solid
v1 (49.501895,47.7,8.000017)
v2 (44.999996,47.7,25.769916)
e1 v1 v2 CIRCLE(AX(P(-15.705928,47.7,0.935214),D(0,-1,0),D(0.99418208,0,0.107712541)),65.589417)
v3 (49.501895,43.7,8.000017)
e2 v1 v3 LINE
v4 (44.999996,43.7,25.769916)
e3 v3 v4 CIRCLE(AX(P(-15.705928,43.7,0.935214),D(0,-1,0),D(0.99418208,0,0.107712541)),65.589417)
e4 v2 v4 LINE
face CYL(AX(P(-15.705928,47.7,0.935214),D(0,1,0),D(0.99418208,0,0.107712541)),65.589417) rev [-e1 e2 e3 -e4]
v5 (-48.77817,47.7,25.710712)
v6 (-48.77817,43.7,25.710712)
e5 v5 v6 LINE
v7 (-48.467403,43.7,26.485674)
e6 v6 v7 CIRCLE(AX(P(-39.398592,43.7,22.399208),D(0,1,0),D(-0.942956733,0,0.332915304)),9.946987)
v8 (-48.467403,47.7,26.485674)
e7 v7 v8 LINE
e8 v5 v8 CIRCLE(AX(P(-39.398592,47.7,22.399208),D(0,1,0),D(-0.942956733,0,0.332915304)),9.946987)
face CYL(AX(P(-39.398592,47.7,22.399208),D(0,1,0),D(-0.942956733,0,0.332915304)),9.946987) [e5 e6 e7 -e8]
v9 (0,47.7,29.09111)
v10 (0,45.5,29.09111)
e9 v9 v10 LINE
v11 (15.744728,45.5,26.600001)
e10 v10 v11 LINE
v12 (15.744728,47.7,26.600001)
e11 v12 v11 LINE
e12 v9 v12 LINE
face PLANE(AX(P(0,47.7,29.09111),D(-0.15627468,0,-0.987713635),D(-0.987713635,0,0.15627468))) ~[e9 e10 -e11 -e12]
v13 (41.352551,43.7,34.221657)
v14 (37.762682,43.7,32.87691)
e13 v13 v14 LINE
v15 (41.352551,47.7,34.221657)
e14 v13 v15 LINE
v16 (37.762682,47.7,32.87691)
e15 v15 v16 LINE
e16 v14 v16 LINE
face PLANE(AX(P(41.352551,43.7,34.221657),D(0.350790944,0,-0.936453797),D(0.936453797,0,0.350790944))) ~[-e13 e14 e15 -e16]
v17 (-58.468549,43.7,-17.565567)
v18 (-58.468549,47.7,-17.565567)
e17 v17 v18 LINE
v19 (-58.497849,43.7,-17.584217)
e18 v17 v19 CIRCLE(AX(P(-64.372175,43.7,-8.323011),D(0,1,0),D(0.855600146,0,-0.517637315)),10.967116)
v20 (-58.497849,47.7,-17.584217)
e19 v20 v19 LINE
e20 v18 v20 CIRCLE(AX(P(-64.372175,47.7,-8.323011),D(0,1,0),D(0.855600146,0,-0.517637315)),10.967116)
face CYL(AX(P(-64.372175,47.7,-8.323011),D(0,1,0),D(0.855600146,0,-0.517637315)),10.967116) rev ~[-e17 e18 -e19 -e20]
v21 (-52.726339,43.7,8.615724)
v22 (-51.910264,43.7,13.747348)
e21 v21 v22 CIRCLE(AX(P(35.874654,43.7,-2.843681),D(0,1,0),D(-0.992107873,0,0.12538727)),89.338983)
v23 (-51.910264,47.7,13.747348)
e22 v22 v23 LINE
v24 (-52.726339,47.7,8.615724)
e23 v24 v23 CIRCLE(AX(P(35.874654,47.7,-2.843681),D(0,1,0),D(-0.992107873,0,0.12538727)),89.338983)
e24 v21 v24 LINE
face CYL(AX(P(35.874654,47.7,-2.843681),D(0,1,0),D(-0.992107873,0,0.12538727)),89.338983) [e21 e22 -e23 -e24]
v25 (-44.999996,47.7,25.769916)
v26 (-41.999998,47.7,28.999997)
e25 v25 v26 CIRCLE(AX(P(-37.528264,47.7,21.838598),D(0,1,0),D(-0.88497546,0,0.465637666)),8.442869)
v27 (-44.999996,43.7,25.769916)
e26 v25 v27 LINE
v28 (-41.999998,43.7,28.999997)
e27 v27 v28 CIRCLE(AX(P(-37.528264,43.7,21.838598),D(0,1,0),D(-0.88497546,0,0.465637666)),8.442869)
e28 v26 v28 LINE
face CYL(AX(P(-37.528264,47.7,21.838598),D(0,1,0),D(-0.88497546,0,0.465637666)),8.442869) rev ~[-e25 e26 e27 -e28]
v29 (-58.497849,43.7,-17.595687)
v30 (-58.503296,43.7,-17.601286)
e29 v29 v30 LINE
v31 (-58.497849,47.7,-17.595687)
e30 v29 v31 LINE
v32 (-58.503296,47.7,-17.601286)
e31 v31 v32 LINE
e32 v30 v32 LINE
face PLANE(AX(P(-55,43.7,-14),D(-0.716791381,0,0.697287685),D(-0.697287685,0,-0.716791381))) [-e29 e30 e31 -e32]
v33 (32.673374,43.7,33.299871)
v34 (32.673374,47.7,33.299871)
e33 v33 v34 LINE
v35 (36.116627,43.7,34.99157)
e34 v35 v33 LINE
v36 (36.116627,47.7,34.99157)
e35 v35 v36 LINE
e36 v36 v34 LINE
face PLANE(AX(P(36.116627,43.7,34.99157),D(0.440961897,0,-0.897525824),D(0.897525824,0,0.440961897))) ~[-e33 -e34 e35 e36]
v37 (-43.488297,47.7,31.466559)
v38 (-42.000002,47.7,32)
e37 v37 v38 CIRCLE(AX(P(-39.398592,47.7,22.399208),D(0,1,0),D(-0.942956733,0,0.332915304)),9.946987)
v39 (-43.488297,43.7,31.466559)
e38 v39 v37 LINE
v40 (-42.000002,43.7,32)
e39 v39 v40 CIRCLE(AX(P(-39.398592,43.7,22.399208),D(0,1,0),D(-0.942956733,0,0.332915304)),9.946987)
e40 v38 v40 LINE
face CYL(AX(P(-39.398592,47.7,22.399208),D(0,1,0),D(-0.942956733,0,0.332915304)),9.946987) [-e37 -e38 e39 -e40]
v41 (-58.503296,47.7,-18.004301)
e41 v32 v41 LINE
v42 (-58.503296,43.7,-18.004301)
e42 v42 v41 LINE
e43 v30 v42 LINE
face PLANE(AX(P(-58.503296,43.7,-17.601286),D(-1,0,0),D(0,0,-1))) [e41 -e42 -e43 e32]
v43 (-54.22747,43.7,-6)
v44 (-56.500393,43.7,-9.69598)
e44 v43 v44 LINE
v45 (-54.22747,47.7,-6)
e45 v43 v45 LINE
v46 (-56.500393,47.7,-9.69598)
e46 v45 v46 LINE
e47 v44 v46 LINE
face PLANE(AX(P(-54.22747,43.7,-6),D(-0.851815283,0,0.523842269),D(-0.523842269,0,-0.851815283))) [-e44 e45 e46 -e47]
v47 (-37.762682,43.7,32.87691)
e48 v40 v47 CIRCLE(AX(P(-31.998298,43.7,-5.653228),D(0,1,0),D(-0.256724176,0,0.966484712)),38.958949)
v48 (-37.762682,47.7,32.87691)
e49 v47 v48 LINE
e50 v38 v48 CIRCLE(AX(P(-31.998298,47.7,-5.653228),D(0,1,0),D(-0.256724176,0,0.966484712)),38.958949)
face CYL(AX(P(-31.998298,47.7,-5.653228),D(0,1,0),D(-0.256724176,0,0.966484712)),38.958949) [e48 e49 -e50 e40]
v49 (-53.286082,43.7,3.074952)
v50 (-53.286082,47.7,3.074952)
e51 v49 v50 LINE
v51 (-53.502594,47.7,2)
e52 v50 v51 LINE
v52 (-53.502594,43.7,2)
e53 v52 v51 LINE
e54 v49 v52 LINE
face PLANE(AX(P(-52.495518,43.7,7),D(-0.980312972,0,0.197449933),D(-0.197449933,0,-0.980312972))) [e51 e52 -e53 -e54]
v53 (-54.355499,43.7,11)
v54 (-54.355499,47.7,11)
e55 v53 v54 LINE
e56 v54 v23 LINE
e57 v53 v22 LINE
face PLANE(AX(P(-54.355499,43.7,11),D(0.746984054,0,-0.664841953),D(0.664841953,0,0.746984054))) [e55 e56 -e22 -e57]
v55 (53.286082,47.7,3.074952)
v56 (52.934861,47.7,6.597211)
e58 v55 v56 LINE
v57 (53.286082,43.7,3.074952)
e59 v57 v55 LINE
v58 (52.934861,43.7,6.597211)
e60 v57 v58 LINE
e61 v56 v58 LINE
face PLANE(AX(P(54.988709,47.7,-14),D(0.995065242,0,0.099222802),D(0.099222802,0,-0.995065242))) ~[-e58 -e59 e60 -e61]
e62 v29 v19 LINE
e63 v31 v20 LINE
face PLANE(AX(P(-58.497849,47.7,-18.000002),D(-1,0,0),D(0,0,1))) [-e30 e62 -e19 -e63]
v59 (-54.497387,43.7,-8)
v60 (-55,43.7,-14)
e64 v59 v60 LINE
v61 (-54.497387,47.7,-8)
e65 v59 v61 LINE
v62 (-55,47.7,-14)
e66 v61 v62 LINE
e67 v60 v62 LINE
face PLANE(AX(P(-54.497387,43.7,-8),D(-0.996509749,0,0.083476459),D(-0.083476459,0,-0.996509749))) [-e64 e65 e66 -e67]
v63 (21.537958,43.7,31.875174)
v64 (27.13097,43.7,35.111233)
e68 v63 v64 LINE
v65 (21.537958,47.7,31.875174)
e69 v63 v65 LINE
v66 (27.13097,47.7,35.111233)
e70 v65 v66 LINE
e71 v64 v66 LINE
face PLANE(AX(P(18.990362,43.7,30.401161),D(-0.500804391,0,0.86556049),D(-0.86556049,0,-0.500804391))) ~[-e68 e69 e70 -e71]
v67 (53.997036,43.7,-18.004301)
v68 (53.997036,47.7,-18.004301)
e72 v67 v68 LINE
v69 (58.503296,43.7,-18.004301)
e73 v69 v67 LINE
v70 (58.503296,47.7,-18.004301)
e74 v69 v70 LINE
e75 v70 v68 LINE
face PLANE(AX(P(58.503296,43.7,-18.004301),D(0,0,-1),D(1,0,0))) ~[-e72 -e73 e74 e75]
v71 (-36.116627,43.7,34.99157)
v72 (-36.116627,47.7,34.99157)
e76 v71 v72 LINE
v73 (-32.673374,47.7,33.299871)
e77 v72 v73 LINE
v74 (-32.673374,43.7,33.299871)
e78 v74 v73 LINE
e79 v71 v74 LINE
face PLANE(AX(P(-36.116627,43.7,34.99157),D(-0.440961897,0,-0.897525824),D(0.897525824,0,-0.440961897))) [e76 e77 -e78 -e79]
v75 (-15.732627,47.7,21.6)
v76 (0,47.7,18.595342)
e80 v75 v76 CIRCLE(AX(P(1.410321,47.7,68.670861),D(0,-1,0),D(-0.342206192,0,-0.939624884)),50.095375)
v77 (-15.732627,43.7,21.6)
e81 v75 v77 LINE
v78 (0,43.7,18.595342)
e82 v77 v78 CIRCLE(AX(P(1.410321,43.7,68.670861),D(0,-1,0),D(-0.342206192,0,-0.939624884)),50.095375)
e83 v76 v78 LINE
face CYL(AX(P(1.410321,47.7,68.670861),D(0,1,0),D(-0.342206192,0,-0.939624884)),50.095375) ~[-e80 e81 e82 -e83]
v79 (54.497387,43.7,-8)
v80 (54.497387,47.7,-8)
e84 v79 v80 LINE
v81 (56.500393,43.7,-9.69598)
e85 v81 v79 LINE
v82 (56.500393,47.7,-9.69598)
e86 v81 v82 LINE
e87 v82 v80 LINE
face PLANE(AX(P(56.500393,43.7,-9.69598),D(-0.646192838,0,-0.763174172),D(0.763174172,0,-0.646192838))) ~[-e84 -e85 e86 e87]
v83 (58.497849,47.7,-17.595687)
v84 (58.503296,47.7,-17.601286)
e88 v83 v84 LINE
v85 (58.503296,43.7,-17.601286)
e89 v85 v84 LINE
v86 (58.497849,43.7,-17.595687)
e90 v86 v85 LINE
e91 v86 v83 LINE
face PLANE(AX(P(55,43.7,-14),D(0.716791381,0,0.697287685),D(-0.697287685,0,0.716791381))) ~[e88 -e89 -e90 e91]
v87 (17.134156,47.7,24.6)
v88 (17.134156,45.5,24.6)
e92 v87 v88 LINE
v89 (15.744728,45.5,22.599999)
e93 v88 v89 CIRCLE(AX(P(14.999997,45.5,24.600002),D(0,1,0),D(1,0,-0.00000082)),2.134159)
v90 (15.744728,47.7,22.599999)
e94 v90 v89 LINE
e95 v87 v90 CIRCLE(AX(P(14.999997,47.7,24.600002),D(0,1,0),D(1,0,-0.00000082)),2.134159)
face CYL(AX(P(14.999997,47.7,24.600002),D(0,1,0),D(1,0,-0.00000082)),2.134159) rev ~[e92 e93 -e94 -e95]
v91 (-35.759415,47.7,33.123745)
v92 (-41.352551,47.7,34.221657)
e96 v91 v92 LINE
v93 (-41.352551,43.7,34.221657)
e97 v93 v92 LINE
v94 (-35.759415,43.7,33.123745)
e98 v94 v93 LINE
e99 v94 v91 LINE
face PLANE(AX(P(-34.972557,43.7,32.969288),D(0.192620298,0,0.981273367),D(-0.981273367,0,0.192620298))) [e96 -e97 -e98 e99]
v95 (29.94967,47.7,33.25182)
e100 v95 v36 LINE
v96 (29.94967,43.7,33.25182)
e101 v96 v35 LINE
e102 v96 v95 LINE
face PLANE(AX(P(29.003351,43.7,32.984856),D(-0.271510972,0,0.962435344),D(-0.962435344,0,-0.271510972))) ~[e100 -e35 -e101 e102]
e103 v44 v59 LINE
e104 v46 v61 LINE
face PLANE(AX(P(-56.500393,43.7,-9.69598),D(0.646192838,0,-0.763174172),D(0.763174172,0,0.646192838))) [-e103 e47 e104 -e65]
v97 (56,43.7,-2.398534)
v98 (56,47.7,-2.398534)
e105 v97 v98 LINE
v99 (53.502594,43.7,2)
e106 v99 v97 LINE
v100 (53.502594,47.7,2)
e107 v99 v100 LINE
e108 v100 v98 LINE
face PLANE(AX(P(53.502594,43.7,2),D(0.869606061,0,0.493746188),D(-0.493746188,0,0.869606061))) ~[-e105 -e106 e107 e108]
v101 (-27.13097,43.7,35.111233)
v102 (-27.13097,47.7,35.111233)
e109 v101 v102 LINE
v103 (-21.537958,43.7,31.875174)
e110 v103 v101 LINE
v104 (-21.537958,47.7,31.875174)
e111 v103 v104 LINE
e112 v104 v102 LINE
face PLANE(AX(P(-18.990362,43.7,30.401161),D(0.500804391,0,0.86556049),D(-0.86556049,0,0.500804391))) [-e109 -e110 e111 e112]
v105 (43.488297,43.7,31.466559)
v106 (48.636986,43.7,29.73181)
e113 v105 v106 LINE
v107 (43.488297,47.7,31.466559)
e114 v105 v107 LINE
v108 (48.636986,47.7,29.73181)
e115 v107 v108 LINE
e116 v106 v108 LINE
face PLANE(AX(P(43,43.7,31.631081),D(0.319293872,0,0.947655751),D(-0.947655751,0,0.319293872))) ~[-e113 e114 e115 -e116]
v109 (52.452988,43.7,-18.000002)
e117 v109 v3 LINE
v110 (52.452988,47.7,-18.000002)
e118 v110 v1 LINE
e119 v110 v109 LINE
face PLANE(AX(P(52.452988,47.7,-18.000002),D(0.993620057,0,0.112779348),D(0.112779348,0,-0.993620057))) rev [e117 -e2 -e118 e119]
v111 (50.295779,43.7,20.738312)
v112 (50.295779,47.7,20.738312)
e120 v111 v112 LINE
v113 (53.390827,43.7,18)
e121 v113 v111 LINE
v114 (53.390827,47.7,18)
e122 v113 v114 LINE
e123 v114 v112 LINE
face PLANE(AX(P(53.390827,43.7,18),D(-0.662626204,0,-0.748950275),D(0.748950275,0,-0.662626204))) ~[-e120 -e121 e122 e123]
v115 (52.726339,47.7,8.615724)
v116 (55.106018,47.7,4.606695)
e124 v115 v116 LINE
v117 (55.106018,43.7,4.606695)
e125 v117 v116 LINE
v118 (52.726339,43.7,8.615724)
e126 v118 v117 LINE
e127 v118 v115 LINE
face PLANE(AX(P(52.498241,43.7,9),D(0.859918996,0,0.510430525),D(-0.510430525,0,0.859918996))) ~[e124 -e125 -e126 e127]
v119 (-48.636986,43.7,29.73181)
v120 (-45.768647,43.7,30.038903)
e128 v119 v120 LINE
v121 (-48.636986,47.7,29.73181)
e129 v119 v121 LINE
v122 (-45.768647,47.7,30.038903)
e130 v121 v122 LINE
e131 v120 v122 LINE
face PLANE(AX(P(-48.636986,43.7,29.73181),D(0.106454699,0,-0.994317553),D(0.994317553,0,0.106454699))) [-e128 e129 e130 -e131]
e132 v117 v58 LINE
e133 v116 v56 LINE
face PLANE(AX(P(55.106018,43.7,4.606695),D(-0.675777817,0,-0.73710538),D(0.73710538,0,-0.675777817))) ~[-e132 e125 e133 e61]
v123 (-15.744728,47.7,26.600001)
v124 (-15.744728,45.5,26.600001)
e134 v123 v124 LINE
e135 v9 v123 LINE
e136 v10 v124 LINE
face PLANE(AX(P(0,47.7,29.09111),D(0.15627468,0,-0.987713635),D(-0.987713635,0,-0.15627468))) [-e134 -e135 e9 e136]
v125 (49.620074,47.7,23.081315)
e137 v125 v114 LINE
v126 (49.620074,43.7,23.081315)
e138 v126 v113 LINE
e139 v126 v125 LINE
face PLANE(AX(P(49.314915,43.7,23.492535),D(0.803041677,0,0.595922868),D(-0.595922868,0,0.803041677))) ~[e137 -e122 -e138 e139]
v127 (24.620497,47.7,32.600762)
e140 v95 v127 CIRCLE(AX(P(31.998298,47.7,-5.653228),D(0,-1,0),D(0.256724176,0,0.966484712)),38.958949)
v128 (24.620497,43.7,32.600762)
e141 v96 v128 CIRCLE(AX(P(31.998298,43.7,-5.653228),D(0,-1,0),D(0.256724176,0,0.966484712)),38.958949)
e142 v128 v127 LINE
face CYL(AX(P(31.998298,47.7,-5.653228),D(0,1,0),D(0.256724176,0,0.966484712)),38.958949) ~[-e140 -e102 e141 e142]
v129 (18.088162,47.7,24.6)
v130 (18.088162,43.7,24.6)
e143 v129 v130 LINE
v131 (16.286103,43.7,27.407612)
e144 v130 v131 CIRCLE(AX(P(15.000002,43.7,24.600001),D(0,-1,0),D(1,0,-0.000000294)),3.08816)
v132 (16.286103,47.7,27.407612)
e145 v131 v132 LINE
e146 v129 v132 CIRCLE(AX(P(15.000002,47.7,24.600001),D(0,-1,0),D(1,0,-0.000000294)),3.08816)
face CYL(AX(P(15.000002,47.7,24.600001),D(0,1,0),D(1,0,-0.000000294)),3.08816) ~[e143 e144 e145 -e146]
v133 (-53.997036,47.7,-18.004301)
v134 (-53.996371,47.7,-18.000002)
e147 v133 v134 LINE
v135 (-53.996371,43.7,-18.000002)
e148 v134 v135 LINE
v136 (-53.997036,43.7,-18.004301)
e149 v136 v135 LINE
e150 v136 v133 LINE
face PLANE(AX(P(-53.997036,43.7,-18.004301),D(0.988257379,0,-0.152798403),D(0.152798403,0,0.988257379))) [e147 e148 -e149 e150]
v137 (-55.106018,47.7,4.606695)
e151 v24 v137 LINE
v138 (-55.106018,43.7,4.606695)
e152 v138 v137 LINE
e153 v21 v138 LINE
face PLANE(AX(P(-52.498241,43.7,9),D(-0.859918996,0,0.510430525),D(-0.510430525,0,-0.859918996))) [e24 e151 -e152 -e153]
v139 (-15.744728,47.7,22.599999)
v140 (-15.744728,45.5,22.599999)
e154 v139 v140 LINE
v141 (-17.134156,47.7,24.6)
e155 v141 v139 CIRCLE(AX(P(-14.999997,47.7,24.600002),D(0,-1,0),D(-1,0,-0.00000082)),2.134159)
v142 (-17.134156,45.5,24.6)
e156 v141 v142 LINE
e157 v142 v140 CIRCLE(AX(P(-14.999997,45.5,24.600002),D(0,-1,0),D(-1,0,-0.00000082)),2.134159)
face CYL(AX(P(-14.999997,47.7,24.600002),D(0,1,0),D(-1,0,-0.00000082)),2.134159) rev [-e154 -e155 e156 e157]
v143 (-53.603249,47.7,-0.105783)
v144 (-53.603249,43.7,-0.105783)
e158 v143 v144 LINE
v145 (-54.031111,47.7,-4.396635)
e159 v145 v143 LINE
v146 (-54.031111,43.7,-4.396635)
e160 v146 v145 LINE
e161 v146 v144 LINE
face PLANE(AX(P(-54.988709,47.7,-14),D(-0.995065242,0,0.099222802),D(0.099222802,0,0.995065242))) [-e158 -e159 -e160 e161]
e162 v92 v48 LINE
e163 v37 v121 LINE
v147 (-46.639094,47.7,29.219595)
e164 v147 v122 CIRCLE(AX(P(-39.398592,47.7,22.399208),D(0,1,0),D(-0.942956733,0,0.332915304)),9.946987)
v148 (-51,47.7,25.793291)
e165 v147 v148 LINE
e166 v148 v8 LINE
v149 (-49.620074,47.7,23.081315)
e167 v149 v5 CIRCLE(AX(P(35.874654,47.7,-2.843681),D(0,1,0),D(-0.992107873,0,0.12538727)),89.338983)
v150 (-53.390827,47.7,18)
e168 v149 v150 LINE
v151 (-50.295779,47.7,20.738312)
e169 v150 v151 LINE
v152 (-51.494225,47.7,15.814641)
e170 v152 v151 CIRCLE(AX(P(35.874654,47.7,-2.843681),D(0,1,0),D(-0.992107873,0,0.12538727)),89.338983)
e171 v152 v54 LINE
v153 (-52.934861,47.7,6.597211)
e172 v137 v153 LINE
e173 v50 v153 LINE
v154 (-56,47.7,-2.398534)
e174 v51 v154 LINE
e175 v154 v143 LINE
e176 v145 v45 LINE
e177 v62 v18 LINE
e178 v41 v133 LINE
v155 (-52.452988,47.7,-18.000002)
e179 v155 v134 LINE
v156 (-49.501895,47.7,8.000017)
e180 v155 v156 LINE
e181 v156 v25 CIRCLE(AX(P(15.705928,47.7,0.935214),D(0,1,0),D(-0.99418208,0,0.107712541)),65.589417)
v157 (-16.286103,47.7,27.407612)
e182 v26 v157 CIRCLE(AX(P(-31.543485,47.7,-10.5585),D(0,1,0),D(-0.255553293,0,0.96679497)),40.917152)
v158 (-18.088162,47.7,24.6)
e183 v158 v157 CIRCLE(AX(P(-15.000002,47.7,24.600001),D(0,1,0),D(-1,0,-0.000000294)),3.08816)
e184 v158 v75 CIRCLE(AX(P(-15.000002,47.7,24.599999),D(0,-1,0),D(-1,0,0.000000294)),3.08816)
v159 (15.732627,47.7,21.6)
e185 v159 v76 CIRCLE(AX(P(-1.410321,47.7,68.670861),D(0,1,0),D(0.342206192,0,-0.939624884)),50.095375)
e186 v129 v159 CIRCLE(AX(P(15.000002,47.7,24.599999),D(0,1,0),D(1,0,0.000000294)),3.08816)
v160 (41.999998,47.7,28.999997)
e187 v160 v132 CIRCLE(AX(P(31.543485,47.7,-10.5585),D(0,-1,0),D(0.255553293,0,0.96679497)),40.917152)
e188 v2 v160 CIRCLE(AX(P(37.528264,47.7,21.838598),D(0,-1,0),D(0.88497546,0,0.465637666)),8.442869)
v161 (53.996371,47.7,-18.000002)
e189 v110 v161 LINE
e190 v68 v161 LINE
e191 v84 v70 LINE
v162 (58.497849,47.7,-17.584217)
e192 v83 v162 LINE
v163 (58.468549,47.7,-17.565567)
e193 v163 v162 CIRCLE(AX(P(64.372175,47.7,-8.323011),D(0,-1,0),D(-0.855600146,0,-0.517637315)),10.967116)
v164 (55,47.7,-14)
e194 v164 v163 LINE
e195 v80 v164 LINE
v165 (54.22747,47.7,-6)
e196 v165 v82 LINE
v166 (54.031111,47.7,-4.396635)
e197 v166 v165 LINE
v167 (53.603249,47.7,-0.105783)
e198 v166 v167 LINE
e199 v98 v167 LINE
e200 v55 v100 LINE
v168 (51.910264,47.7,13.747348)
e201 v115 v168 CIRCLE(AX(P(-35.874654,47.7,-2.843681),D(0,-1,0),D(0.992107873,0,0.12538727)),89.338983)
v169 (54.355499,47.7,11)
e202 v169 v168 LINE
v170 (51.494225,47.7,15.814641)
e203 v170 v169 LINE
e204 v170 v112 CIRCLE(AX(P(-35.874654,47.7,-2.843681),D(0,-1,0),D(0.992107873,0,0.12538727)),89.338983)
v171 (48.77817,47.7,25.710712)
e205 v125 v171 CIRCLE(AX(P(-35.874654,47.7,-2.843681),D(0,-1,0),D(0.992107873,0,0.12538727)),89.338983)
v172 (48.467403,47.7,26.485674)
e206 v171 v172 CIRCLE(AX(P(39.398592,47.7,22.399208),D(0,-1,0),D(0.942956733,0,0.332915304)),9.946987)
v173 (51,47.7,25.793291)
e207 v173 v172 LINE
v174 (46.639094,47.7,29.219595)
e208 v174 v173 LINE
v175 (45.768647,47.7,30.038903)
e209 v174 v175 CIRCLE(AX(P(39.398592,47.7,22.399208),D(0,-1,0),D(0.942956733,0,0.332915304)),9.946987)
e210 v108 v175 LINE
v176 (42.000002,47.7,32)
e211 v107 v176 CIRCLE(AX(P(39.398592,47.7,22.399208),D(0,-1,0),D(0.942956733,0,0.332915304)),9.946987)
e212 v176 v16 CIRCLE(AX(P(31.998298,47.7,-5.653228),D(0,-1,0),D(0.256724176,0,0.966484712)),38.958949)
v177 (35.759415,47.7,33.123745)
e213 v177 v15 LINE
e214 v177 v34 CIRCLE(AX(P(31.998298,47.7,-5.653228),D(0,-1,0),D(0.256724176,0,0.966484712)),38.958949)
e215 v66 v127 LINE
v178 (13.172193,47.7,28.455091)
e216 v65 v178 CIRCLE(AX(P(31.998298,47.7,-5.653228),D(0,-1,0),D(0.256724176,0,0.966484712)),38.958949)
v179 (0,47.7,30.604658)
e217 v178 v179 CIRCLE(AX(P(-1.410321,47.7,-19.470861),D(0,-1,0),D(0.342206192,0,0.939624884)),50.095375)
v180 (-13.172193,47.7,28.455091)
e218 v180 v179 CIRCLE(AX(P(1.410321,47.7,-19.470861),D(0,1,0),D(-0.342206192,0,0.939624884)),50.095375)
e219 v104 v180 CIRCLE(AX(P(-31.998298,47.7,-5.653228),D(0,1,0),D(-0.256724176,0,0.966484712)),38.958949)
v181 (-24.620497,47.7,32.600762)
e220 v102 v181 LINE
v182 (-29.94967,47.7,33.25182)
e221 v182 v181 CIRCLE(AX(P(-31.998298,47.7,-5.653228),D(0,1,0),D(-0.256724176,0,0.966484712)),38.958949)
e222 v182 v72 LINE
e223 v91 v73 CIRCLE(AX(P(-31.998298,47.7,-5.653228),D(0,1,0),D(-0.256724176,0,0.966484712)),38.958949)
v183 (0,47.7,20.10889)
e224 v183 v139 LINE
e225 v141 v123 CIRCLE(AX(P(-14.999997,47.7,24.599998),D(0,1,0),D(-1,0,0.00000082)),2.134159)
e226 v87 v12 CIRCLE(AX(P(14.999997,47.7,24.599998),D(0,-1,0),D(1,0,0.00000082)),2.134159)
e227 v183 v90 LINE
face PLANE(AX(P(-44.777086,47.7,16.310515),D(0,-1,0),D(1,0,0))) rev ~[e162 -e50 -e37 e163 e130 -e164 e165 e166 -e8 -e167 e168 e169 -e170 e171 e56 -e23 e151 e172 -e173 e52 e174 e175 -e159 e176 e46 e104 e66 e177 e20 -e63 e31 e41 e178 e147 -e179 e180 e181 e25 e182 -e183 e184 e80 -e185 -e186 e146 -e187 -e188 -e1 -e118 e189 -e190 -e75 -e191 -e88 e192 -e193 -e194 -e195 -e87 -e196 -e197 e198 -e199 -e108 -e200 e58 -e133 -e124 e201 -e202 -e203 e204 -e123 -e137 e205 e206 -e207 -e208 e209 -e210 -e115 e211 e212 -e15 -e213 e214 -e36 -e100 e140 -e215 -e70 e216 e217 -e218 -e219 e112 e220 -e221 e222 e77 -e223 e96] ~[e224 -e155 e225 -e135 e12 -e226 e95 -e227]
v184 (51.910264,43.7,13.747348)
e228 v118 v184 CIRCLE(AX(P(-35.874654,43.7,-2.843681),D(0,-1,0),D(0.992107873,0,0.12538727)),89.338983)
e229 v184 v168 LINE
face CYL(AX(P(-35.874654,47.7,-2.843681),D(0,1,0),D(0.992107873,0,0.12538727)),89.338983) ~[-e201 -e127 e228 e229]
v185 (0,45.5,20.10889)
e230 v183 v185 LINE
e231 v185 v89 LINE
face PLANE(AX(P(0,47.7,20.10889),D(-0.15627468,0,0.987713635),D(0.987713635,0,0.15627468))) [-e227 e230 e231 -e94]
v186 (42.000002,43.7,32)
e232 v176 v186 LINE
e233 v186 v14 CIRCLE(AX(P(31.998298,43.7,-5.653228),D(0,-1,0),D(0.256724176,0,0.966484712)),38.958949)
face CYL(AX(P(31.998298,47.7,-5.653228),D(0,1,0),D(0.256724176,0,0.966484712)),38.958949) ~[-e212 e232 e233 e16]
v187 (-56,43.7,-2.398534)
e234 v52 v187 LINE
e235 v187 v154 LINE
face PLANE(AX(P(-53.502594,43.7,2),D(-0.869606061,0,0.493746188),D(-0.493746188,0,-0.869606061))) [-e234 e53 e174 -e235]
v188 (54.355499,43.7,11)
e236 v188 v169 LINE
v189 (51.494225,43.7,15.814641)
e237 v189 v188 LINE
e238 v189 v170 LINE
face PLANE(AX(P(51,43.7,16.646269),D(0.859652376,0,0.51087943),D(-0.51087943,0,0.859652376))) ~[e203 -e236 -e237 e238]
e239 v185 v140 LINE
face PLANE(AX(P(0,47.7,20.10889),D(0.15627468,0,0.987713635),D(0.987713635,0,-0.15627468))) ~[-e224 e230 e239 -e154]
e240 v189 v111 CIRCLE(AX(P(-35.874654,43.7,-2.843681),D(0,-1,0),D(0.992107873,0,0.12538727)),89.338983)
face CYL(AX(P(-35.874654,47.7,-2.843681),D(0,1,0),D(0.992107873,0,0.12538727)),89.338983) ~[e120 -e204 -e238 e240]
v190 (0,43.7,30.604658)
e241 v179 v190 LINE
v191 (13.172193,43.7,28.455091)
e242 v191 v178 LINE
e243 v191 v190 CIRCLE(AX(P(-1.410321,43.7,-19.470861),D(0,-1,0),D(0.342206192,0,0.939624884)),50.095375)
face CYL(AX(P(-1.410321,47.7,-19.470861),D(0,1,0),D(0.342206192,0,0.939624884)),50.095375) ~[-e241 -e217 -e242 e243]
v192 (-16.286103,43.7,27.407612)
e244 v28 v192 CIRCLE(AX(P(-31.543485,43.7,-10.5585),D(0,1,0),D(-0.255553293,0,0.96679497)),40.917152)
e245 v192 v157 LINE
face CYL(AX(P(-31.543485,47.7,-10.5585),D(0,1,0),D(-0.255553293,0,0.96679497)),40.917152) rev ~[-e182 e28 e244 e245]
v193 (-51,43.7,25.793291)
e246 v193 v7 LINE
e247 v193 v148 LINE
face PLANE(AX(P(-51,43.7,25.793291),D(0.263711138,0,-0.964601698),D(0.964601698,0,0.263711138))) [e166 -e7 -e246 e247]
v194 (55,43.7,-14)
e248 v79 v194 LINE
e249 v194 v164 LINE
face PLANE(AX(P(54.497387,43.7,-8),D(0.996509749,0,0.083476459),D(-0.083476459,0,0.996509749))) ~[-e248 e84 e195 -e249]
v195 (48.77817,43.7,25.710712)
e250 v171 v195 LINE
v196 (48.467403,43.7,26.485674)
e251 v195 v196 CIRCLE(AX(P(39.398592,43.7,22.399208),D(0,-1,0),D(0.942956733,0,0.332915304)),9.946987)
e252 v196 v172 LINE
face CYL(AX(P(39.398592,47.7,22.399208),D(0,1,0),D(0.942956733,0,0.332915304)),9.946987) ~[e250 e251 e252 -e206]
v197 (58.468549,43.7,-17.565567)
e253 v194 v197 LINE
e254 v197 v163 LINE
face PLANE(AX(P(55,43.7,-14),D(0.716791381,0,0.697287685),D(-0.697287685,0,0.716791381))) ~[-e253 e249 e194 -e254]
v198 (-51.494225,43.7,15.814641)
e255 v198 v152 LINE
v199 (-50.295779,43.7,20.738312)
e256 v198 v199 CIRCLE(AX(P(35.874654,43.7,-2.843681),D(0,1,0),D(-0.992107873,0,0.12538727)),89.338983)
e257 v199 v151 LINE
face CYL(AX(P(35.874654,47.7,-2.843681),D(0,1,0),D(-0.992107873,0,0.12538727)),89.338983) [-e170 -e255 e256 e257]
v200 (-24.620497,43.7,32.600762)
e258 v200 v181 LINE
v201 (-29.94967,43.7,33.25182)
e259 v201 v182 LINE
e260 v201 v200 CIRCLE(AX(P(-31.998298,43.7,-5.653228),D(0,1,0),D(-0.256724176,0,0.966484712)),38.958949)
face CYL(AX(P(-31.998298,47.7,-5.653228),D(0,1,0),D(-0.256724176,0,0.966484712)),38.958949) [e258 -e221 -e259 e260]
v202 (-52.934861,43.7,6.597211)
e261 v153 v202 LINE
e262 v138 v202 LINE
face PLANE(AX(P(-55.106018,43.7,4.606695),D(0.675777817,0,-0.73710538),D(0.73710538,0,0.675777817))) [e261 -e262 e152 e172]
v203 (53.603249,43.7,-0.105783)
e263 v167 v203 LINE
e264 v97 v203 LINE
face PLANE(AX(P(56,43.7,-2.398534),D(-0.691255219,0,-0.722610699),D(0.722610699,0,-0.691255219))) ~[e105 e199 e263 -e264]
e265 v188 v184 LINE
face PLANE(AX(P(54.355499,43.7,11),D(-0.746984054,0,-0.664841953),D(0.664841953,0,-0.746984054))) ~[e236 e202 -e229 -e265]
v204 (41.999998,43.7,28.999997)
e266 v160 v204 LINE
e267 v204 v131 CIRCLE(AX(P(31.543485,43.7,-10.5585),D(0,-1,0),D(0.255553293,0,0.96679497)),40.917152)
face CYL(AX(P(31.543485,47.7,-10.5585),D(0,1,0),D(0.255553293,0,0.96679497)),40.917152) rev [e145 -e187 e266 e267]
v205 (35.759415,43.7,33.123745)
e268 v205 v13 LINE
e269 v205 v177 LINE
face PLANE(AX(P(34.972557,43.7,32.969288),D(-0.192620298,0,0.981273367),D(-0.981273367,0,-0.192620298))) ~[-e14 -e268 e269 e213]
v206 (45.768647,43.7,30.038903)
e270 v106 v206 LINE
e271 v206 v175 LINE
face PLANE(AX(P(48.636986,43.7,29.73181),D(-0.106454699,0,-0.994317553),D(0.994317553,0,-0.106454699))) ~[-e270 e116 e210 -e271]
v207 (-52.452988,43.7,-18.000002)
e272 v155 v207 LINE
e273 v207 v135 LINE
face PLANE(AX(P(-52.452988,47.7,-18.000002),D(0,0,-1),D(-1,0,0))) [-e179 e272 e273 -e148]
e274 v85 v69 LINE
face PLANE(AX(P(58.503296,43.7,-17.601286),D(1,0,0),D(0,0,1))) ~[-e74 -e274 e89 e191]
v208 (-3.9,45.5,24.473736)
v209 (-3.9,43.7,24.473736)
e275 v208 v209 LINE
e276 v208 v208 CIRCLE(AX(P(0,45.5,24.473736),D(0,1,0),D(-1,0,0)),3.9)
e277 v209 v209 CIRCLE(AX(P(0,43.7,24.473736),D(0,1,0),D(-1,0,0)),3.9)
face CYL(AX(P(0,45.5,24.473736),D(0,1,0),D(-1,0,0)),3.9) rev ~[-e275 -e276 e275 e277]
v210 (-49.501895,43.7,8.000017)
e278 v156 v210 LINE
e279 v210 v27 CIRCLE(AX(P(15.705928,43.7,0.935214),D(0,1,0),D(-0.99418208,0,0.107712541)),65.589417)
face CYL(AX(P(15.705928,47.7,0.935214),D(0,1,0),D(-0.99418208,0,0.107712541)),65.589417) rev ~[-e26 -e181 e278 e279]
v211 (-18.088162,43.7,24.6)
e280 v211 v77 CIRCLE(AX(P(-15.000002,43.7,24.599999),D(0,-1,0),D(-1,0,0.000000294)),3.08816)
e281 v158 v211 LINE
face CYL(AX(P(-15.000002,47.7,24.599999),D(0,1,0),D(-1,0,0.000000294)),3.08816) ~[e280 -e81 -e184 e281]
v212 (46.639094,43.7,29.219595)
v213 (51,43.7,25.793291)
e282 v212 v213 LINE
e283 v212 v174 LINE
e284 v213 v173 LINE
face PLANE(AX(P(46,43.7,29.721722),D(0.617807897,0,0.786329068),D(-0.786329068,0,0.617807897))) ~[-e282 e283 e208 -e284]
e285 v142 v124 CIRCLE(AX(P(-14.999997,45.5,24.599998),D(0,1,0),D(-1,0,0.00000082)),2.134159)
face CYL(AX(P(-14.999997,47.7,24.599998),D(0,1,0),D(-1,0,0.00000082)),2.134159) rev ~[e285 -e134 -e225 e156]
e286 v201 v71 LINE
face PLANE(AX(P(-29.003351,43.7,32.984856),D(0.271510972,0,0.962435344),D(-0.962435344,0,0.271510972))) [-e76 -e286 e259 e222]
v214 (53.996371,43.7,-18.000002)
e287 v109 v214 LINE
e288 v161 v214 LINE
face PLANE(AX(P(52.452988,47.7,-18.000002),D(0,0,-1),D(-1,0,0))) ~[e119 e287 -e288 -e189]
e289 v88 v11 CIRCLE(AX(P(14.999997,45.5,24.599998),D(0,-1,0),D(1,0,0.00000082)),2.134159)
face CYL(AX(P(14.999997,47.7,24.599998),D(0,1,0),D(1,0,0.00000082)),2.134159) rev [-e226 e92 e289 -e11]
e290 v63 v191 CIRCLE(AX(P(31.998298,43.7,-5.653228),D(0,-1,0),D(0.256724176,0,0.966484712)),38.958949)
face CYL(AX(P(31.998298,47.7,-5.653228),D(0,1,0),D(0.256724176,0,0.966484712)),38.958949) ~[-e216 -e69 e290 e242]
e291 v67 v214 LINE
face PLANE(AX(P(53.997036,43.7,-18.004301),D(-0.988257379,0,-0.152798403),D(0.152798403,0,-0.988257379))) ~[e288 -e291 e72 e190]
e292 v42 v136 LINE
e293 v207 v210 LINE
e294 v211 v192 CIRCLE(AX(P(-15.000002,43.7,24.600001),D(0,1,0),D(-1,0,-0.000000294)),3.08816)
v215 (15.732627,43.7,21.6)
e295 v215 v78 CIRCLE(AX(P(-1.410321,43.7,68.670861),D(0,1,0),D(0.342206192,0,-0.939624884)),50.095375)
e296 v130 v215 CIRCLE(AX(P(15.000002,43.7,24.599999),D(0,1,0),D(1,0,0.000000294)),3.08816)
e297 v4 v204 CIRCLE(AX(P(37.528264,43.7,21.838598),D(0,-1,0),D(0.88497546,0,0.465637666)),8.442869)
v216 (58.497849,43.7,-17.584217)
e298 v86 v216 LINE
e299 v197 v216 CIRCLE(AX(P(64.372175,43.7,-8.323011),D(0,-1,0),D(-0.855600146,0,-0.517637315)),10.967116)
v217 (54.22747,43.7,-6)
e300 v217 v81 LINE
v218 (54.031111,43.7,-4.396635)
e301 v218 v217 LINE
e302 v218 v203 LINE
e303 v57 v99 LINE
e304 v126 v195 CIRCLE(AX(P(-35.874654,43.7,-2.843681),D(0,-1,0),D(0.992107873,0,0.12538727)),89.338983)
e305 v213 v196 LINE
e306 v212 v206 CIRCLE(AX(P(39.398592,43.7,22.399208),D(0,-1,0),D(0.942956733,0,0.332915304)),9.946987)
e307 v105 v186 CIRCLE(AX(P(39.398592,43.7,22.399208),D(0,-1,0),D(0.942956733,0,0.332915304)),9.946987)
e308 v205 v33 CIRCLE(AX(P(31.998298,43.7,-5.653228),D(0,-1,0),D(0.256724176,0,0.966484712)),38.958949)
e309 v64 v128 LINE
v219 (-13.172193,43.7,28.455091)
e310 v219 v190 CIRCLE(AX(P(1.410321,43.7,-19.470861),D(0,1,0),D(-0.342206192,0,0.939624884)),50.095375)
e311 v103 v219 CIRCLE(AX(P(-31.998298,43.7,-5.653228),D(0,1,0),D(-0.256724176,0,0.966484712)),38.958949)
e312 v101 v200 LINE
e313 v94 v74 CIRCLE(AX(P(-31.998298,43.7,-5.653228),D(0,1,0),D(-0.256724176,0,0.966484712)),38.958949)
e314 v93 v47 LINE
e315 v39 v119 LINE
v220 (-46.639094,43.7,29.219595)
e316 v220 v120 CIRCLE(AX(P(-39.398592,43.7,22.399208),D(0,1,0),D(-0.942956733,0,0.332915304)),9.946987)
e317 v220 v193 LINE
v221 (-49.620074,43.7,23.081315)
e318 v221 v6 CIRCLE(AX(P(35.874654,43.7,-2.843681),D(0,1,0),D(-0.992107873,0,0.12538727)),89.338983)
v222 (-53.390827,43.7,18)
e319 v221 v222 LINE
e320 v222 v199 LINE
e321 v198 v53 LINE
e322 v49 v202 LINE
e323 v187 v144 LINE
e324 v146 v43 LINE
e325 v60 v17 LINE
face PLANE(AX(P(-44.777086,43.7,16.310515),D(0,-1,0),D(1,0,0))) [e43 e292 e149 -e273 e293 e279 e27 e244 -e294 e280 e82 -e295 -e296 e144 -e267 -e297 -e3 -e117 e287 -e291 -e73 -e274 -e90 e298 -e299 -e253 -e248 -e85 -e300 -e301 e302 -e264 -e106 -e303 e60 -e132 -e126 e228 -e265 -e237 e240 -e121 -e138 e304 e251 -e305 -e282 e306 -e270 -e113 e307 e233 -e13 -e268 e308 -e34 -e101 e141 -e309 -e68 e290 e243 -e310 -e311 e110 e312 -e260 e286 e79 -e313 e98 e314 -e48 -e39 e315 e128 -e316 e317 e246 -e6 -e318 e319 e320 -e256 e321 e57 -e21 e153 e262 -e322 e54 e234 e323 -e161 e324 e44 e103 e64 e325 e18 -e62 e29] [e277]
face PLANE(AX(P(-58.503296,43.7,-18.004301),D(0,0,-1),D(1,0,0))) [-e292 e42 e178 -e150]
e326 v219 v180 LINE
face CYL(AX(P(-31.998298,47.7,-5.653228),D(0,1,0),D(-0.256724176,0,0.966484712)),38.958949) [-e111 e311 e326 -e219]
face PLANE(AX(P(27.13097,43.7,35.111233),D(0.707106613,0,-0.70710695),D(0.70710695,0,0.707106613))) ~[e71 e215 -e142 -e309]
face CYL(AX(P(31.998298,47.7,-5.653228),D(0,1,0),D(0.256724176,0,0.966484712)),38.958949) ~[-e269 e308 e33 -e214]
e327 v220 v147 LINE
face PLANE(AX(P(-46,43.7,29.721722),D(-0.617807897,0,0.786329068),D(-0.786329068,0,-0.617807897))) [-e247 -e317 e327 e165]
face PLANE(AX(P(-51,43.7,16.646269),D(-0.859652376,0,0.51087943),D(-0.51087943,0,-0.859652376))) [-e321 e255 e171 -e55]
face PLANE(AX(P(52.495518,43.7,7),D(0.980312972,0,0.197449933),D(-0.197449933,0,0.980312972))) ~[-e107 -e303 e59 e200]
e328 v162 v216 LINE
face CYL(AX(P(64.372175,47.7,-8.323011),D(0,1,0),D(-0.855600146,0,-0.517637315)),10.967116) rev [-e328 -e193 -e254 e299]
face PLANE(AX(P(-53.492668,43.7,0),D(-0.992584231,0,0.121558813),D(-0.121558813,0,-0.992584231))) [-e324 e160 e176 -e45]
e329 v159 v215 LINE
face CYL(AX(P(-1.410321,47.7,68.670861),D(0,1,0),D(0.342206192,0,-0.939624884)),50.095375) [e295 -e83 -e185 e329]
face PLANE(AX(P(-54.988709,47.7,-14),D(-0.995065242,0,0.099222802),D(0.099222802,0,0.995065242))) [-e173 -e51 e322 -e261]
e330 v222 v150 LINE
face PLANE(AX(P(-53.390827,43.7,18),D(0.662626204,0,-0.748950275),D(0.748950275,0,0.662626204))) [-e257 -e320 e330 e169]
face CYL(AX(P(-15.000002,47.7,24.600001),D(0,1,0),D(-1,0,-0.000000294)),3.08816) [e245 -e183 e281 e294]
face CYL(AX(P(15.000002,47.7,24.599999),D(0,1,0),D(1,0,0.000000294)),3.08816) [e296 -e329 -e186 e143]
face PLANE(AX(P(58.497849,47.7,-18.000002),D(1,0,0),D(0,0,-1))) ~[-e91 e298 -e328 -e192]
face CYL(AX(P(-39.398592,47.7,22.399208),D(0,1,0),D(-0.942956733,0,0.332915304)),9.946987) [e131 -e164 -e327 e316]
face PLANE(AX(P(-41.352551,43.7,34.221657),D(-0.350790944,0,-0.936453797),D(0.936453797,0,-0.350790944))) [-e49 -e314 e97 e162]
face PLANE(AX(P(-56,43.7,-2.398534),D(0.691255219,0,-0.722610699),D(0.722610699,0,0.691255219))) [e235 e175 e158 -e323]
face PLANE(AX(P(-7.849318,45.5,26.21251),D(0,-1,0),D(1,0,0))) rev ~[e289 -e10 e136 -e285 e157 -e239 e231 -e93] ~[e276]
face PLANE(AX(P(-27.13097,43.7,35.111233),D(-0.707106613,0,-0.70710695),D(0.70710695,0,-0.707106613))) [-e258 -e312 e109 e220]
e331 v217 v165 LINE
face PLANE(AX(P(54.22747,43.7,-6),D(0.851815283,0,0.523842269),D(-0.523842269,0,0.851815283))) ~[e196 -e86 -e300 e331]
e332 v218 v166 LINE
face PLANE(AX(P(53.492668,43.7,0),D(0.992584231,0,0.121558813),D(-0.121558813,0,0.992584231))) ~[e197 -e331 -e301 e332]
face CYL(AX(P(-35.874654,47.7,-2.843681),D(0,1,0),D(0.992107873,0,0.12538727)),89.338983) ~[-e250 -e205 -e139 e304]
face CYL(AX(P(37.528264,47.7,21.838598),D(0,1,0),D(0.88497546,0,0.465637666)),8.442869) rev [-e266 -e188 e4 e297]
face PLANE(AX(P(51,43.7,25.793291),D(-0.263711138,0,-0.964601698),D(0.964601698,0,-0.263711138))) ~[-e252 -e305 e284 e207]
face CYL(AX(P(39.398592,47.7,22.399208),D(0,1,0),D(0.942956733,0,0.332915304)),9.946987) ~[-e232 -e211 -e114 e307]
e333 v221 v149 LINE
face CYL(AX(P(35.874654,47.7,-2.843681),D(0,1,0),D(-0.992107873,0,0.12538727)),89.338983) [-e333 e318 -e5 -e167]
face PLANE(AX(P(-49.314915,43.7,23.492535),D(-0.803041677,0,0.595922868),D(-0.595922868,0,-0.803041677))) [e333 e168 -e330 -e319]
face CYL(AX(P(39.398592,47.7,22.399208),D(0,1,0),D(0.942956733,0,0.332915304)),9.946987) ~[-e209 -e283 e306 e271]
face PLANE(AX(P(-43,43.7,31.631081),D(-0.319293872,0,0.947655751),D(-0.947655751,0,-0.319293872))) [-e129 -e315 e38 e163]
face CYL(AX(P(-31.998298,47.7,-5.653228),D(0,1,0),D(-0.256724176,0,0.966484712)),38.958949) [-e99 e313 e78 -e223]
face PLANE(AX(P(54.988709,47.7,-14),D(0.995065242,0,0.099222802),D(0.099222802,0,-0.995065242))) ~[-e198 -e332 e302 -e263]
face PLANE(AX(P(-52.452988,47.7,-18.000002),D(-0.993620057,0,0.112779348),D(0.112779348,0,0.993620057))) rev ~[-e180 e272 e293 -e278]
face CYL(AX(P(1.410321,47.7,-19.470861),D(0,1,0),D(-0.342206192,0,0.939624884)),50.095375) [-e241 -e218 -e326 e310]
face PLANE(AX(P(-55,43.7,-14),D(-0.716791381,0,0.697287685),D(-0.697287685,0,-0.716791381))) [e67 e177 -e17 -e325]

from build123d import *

# Parameters (mm, degrees)
PAD034_DEPTH       = 4
PAD032_DEPTH       = 4
POCKET003027_DEPTH = 2.2
PAD033_DEPTH       = 4
SKETCH054_R        = 3.9
POCKET003028_DEPTH = 10


with BuildPart() as central_leg_insect_add:
    # Sketch055 → Pad034 (new body)
    with BuildSketch(Plane.XZ.offset(-43.7)):
        Polygon((-58.503296, -18.004301), (-53.997036, -18.004301), (-48.744877, 15.965196), (-44.5658, 27.943165), (-41.53833, 30.02603), (-31.626242, 31.40176), (-21.017805, 29.65671), (-18.990362, 30.401161), (-27.13097, 35.111233), (-22.936073, 30.916338), (-29.003351, 32.984856), (-36.116627, 34.99157), (-32.000511, 32.969288), (-34.972557, 32.969288), (-41.352551, 34.221657), (-37, 32.591213), (-43, 31.631081), (-48.636986, 29.73181), (-44, 30.22826), (-46, 29.721722), (-51, 25.793291), (-47.464714, 26.759798), (-49.314915, 23.492535), (-53.390827, 18), (-50, 21), (-51, 16.646269), (-54.355499, 11), (-51.685394, 14), (-52.498241, 9), (-55.106018, 4.606695), (-52.495518, 7), (-53.502594, 2), (-56, -2.398534), (-53.492668, 0), (-54.22747, -6), (-56.500393, -9.69598), (-54.497387, -8), (-55, -14), (-58.503296, -17.601286), align=None)
    extrude(amount=-PAD034_DEPTH)


with BuildPart() as quarter_central_leg_servo_support:
    # Sketch050 → Pad032 (new body)
    with BuildSketch(Plane(origin=(0, 47.7, 24.6), x_dir=(-1, 0, 0), z_dir=(0, 1, 0))):
        with BuildLine():
            ThreePointArc((15.732627, 3), (7.987175, 5.135172), (0, 6.004658))
            Line((0, 6.004658), (0, 4.275313))
            Line((0, 4.275313), (0, 0))
            Line((16.774147, 0), (0, 0))
            Line((18.088162, 0), (16.774147, 0))
            ThreePointArc((18.088162, 0), (17.428911, 1.907128), (15.732627, 3))
        make_face()
    extrude(amount=-PAD032_DEPTH)

    # Sketch051 → Pocket003027 (cut)
    with BuildSketch(Plane(origin=(0, 47.7, 24.6), x_dir=(-1, 0, 0), z_dir=(0, 1, 0))):
        with BuildLine():
            Line((0, 4.49111), (15.744728, 2.000001))
            ThreePointArc((17.134156, 0), (16.75271, 1.217632), (15.744728, 2.000001))
            Line((17.134156, 0), (0, 0))
            Line((0, 0), (0, 4.49111))
        make_face()
    extrude(amount=-POCKET003027_DEPTH, mode=Mode.SUBTRACT)


with BuildPart() as half_leg_insect:
    # Part__Mirroring001: instance of quarter_central_leg_servo_support
    add(quarter_central_leg_servo_support.part.mirror(Plane(origin=(0, 0, 24.6), x_dir=(0, 1, 0), z_dir=(0, 0, 1))))

    # Fusion007017: union quarter_central_leg_servo_support
    add(quarter_central_leg_servo_support.part)

    # Sketch052 → Pad033 (new body)
    with BuildSketch(Plane(origin=(0, 47.7, 0), x_dir=(-1, 0, 0), z_dir=(0, 1, 0))):
        with BuildLine():
            Line((52.452988, -18.000002), (58.497849, -18.000002))
            Line((58.497849, -18.000002), (58.497849, -17.584217))
            ThreePointArc((54.988709, -14), (56.535613, -15.995425), (58.497849, -17.584217))
            Line((54.988709, -14), (52.759255, 8.35829))
            ThreePointArc((52.759255, 8.35829), (51.202034, 17.133916), (48.77817, 25.710712))
            ThreePointArc((48.77817, 25.710712), (46.1643, 29.690829), (42.000002, 32))
            ThreePointArc((42.000002, 32), (27.145674, 33.002324), (13.00001, 28.359486))
            Line((16, 27.29138), (13.00001, 28.359486))
            ThreePointArc((41.999998, 28.999997), (28.860359, 30.270585), (16, 27.29138))
            ThreePointArc((44.999996, 25.769916), (43.714535, 27.584213), (41.999998, 28.999997))
            ThreePointArc((49.501895, 8.000017), (47.87481, 17.043019), (44.999996, 25.769916))
            Line((52.452988, -18.000002), (49.501895, 8.000017))
        make_face()
    extrude(amount=-PAD033_DEPTH)

    # Fusion007018: union central_leg_insect_add
    add(central_leg_insect_add.part)


with BuildPart() as central_leg_sg092:
    # Part__Mirroring002: instance of half_leg_insect
    add(half_leg_insect.part.mirror(Plane(origin=(0, 0, 0), x_dir=(0, -1, 0), z_dir=(1, 0, 0))))

    # Fusion007019: union half_leg_insect
    add(half_leg_insect.part)

    # Sketch054 → Pocket003028 (cut)
    with BuildSketch(Plane(origin=(0, 45.5, 0), x_dir=(-1, 0, 0), z_dir=(0, 1, 0))):
        with Locations((0, 24.473736)):
            Circle(SKETCH054_R)
    extrude(amount=-POCKET003028_DEPTH, mode=Mode.SUBTRACT)


solid = central_leg_sg092.part
